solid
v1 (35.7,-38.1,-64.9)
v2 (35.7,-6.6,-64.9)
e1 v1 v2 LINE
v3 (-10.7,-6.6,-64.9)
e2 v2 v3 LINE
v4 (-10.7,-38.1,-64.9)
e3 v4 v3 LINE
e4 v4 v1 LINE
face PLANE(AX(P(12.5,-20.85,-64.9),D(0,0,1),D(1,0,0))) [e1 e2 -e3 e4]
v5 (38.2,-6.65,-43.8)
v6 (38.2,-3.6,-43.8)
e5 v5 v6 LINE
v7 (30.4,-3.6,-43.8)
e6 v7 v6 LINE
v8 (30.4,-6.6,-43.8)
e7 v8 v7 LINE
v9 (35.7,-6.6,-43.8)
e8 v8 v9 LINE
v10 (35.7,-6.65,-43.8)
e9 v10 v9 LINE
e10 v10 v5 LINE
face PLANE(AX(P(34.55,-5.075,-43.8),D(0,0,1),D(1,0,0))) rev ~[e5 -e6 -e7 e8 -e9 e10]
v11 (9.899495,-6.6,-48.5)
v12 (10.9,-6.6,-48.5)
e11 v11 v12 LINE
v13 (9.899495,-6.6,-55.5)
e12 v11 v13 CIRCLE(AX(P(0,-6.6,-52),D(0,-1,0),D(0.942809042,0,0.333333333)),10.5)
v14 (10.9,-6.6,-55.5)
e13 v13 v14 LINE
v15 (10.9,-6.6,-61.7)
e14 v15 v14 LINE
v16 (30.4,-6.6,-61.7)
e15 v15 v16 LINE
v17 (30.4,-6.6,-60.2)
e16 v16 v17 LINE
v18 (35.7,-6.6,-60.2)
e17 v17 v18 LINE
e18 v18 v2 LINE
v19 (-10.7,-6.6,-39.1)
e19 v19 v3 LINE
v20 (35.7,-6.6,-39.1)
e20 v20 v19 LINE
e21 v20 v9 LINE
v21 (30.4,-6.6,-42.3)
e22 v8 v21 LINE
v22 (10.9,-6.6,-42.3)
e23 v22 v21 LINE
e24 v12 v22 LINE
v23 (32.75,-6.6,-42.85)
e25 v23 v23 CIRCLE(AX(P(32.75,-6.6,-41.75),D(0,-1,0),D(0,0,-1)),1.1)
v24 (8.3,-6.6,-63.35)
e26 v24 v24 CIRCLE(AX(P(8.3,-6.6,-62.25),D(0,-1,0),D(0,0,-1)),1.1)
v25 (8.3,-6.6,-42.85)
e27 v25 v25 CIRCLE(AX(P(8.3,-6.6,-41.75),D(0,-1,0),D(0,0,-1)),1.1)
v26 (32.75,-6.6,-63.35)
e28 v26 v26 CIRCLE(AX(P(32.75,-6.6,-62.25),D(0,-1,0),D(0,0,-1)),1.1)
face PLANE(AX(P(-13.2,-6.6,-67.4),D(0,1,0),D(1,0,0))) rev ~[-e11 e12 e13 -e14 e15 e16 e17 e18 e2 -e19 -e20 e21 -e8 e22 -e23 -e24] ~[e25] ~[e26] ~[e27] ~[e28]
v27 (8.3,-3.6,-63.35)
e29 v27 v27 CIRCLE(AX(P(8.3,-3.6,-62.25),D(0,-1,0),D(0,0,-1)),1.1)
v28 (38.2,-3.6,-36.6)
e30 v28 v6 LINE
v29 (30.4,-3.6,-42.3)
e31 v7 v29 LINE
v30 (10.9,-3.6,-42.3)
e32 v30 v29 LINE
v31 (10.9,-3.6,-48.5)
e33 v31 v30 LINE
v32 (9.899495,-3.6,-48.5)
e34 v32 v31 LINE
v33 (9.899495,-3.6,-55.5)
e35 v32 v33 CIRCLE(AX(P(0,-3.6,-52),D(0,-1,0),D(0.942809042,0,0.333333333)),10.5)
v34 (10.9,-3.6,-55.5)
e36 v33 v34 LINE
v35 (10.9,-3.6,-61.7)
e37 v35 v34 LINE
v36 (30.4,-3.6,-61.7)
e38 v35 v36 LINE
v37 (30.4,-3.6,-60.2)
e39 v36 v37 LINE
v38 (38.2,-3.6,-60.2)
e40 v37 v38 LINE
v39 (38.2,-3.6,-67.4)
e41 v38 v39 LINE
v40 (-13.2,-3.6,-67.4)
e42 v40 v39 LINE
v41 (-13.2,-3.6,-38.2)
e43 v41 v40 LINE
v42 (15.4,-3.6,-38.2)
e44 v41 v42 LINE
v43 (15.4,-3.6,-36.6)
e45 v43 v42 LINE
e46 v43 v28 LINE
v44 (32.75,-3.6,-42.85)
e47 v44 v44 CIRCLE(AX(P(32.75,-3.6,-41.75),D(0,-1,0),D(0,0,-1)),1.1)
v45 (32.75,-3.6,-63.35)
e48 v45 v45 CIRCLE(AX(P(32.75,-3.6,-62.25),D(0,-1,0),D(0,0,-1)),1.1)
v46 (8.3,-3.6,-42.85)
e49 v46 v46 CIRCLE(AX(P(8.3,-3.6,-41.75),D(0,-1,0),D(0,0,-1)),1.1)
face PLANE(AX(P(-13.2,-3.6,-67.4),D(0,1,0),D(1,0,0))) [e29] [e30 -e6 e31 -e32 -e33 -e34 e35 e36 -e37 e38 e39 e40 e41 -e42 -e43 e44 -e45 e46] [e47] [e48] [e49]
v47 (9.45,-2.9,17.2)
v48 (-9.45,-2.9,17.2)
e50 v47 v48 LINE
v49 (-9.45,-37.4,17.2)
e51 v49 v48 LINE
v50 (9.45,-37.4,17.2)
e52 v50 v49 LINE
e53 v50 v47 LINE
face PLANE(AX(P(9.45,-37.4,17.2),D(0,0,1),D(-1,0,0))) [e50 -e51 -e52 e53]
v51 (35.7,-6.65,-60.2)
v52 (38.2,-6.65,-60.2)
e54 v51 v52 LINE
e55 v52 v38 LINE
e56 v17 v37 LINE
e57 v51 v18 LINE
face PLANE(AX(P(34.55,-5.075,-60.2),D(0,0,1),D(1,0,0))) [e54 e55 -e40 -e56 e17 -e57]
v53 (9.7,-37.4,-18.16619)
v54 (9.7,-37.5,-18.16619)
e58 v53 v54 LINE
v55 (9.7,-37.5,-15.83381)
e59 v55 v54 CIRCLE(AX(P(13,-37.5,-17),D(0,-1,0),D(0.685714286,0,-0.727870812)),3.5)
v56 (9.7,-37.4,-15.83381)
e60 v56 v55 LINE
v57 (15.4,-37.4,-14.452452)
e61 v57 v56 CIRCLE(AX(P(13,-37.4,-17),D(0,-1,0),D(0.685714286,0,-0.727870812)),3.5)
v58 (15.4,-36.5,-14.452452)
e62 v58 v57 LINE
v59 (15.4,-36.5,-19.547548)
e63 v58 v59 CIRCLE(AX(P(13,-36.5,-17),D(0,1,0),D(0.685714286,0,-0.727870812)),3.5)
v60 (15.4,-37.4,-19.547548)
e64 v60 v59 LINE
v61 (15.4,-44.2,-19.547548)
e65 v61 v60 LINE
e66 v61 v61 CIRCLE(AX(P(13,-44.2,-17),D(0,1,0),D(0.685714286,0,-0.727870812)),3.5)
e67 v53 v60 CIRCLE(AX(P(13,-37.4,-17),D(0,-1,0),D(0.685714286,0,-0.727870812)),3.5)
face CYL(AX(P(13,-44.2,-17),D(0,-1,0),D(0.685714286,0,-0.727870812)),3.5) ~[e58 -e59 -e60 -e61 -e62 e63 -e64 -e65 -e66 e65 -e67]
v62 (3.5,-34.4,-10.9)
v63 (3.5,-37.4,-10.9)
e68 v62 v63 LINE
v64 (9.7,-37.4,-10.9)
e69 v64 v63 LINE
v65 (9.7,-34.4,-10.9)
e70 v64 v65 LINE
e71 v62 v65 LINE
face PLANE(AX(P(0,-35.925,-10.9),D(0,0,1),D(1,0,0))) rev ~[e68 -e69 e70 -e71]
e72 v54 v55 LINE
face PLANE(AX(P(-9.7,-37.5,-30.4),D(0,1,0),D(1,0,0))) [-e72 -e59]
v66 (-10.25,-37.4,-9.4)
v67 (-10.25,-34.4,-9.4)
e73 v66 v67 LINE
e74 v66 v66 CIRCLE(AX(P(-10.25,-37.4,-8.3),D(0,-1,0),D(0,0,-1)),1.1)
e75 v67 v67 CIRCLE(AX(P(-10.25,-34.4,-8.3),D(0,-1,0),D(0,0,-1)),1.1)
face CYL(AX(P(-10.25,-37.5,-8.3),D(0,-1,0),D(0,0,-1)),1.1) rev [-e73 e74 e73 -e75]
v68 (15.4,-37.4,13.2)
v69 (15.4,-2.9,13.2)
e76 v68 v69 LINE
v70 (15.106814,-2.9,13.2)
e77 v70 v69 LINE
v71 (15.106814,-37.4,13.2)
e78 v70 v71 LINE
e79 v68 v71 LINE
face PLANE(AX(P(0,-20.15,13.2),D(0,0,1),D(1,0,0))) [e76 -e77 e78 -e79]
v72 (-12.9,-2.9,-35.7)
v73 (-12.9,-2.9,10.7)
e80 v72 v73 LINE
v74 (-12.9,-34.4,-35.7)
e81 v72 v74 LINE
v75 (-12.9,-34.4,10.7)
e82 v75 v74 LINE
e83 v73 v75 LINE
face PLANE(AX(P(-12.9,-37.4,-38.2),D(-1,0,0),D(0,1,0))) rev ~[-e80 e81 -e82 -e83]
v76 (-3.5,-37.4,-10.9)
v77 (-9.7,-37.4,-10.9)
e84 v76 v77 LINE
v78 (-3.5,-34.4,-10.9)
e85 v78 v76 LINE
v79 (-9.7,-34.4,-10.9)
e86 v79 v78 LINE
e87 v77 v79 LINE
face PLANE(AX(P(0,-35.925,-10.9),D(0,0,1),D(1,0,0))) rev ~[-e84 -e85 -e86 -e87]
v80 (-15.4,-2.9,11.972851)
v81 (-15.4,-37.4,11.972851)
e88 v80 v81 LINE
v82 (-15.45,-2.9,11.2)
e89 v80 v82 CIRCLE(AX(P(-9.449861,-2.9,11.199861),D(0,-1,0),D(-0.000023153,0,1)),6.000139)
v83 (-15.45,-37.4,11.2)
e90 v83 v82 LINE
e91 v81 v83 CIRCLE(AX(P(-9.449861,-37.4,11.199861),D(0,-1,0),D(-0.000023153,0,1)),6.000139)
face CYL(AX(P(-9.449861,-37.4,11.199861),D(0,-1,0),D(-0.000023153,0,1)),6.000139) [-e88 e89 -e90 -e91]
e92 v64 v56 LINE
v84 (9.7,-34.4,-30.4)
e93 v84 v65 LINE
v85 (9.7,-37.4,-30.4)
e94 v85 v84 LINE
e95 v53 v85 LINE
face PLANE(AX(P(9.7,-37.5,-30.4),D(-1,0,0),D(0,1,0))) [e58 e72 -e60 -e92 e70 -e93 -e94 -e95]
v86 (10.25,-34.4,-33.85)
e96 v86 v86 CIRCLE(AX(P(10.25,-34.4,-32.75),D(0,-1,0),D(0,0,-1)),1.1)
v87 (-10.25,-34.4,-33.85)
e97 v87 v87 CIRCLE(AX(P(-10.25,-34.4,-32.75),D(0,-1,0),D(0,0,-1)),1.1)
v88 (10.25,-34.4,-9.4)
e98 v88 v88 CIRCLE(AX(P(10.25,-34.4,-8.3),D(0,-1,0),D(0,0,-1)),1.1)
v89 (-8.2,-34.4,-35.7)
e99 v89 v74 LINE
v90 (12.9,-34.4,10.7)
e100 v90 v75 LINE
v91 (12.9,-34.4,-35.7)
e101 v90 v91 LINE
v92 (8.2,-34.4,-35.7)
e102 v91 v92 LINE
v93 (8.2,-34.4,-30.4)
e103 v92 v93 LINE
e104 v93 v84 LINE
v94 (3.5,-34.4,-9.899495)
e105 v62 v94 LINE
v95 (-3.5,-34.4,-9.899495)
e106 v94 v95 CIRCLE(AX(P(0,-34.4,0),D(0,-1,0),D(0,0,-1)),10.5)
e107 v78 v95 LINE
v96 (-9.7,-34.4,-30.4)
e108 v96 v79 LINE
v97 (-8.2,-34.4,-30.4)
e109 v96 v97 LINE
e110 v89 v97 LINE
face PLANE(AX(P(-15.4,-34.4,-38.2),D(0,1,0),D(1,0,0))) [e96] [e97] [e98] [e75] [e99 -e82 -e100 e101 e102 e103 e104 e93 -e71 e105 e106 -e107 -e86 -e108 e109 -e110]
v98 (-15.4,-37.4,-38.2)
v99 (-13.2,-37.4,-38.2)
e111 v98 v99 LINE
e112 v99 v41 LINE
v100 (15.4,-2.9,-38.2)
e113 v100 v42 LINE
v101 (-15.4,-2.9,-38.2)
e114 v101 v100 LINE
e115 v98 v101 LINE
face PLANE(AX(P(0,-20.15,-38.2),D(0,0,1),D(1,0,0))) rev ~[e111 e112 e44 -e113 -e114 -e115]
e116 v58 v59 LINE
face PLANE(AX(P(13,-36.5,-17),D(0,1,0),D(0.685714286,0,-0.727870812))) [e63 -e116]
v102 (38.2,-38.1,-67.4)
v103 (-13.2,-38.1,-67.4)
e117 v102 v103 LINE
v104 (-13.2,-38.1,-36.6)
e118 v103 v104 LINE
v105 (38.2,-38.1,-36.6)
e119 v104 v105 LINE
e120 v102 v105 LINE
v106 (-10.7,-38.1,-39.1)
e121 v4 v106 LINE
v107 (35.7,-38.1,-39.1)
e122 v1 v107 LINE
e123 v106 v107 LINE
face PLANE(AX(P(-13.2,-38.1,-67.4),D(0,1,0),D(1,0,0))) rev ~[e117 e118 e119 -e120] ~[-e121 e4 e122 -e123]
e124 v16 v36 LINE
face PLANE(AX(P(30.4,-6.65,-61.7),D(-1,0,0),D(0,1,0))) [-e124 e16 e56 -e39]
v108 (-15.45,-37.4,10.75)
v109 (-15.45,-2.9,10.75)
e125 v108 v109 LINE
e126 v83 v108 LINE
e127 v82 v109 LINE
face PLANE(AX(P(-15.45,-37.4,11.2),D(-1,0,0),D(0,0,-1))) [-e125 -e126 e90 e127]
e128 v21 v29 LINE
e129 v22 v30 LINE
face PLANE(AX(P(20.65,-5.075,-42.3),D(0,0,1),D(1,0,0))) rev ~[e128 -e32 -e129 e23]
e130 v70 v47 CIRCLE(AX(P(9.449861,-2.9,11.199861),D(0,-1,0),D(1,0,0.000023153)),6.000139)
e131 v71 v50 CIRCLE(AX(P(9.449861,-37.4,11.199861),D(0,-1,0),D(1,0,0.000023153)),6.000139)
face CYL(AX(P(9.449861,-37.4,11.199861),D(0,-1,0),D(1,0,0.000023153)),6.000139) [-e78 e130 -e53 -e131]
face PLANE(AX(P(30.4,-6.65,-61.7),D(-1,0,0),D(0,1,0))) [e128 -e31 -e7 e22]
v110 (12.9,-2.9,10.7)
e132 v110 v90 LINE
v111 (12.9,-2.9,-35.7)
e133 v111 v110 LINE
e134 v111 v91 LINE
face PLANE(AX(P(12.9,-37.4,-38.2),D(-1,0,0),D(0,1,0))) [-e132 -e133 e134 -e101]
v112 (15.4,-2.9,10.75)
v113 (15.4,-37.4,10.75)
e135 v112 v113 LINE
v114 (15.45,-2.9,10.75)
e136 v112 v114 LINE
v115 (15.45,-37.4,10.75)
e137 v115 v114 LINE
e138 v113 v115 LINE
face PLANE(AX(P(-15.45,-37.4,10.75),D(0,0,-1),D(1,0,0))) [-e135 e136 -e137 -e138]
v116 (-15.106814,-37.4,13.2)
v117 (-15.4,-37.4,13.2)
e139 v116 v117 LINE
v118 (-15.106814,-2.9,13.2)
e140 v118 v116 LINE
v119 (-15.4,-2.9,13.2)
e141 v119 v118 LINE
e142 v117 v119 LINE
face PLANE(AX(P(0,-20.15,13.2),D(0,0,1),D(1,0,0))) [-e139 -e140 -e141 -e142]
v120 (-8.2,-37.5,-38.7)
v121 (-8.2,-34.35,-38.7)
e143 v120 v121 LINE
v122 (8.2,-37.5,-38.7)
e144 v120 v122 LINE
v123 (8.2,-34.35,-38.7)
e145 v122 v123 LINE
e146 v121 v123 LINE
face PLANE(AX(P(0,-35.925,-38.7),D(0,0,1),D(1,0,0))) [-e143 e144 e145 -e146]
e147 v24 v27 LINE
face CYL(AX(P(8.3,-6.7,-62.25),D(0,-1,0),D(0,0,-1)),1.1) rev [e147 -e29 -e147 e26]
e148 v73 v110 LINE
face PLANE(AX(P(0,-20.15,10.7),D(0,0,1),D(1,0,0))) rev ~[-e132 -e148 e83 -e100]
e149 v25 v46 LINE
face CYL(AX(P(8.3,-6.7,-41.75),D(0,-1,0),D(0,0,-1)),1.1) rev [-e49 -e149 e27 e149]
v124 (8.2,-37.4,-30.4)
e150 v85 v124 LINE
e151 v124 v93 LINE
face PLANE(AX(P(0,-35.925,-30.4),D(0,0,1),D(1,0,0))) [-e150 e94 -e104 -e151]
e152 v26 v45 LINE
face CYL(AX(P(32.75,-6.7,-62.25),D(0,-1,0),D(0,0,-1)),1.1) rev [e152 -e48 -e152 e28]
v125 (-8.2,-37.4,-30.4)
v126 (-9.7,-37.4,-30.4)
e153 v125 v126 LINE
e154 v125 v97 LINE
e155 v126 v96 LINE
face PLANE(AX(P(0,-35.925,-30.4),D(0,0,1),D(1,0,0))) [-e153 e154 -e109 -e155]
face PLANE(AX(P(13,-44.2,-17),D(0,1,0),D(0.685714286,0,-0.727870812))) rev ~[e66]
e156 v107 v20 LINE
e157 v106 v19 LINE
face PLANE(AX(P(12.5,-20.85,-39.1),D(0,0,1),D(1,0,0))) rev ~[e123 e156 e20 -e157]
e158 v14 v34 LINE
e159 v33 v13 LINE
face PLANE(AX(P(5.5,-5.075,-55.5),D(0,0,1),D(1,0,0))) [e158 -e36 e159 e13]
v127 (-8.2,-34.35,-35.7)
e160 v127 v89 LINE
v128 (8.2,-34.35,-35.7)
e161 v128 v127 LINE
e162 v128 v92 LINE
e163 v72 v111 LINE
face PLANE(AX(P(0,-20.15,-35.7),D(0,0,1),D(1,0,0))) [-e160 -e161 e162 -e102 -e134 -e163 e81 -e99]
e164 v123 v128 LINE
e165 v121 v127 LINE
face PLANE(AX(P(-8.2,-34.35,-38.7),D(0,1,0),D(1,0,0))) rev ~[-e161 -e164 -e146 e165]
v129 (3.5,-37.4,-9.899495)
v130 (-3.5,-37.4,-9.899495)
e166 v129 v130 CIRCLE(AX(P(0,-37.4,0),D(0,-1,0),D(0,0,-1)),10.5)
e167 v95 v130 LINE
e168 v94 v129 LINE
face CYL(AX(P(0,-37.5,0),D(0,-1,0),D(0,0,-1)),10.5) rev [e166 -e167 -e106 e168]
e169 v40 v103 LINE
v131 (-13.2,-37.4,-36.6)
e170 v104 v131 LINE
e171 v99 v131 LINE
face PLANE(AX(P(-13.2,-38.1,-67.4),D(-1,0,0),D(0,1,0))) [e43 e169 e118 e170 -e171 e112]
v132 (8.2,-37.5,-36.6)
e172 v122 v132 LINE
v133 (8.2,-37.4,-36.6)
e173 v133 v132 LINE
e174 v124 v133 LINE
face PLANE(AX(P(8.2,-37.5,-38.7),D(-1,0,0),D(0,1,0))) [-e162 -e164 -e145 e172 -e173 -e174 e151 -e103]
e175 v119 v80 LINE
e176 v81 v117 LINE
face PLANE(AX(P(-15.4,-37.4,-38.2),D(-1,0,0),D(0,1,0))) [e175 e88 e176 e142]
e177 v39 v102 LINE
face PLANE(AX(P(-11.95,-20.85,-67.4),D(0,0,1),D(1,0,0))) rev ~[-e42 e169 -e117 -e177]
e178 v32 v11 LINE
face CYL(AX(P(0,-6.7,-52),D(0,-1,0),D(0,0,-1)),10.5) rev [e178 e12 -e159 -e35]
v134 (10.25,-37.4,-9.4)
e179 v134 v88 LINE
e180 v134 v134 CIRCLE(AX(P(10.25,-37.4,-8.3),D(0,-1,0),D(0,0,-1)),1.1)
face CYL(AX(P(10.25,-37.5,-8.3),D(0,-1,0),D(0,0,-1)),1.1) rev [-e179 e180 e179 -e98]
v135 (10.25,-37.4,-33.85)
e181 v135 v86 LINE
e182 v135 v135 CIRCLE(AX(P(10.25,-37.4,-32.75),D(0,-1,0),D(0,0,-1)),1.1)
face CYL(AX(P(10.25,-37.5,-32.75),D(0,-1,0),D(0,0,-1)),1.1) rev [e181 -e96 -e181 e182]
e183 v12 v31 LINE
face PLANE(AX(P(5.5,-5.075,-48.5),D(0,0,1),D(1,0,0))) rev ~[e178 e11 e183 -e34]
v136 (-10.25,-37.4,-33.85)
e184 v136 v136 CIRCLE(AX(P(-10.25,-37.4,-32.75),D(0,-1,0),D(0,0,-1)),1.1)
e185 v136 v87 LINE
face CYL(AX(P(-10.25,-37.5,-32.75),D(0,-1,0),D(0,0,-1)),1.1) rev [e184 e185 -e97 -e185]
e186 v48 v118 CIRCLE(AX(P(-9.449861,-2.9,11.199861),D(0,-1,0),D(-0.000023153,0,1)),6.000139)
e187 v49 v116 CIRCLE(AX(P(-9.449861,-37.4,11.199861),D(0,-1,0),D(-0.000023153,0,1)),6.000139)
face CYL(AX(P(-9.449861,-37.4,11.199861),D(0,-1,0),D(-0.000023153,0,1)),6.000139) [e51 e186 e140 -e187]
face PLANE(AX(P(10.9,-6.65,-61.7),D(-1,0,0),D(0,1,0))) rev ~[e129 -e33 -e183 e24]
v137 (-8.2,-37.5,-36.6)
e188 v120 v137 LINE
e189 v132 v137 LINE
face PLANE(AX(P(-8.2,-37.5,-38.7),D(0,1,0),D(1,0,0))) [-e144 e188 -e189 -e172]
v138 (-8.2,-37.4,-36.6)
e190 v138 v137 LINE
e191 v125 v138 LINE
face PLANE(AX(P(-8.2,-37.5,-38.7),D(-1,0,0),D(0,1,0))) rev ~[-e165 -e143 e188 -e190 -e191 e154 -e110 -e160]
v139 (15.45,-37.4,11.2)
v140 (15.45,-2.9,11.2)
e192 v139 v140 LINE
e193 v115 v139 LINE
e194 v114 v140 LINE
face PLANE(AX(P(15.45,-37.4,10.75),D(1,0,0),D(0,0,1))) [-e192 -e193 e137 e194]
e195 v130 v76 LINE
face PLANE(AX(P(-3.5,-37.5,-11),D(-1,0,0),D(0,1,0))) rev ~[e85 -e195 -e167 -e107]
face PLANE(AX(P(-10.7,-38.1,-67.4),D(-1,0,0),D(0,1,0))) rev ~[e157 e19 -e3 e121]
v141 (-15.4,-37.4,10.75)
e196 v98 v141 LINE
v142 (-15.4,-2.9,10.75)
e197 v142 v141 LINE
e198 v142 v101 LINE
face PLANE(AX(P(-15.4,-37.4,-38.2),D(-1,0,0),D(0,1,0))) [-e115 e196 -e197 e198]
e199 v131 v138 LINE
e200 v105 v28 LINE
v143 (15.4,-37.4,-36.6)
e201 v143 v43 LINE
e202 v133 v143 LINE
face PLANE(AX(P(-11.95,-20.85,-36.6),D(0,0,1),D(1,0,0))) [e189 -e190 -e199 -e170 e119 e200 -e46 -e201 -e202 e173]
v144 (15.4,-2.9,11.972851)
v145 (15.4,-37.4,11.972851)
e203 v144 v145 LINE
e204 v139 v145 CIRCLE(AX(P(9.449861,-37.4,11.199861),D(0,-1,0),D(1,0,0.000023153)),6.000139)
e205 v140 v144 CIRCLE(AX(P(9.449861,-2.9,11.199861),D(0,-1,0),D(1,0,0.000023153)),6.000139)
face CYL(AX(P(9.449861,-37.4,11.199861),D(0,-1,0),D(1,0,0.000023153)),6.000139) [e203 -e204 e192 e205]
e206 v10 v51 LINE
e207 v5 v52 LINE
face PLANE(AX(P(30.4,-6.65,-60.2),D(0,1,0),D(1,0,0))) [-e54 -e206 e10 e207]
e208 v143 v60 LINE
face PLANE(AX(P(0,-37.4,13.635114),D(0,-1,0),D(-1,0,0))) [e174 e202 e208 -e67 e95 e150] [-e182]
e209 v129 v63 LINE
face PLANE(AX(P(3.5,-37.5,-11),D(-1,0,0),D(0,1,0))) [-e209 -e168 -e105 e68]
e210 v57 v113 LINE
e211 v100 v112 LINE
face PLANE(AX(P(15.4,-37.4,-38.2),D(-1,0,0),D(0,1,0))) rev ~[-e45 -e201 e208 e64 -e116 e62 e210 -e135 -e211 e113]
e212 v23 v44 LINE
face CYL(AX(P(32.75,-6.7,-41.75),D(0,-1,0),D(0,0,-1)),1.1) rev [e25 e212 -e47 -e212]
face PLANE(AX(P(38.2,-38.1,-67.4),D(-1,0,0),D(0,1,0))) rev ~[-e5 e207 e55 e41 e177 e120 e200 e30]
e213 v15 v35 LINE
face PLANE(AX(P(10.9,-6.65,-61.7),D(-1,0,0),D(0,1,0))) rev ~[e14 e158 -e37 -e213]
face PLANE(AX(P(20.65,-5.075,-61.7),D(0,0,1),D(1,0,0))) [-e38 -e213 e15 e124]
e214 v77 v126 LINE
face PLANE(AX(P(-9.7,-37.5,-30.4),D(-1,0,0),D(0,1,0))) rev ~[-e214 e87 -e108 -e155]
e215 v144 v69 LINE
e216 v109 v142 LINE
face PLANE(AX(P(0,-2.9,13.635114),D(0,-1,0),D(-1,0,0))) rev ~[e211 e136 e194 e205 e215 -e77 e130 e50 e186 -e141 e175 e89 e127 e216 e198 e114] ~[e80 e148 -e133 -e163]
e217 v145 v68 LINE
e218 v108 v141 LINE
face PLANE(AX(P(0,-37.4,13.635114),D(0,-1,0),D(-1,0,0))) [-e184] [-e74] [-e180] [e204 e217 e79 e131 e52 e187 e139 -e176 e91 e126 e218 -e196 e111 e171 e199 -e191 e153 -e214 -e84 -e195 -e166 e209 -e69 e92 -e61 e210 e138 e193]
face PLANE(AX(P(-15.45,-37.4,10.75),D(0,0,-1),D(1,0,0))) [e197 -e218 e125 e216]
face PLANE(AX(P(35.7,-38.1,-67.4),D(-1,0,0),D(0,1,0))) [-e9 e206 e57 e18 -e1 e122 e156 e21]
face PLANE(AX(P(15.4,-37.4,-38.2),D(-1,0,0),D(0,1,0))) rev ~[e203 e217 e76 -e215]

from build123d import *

# Parameters (mm, degrees)
S_BOX1_W        = 30.8
S_BOX1_H        = 34.5
BOSS_1_DEPTH    = 2.5
S_BOX2_W        = 30.8
S_BOX2_H        = 34.5
BOSS_2_DEPTH    = 2.5
S_BOX3_W        = 2.5
S_BOX3_H        = 34.5
BOSS_3_DEPTH    = 51.4
S_BOX4_W        = 2.5
S_BOX4_H        = 34.5
BOSS_4_DEPTH    = 51.4
S_BOX5_W        = 30.8
S_BOX5_H        = 3
BOSS_5_DEPTH    = 51.4
S_BOX6_W        = 2.5
S_BOX6_H        = 34.5
BOSS_6_DEPTH    = 30.8
S_BOX7_W        = 2.5
S_BOX7_H        = 34.5
BOSS_7_DEPTH    = 30.8
S_BOX8_W        = 51.4
S_BOX8_H        = 34.5
BOSS_8_DEPTH    = 2.5
S_BOX9_W        = 51.4
S_BOX9_H        = 34.5
BOSS_9_DEPTH    = 2.5
S_BOX10_W       = 51.4
S_BOX10_H       = 3
BOSS_10_DEPTH   = 30.8
BOSS_11_DEPTH   = 34.5
S_CYL12_R       = 3.5
BOSS_12_DEPTH   = 7.7
S_HOLE13_R      = 10.5
HOLE_13_DEPTH   = 3.2
S_CUT14_W       = 19.4
S_CUT14_H       = 3.15
POCKET_14_DEPTH = 19.5
S_CUT15_W       = 16.4
S_CUT15_H       = 3.15
POCKET_15_DEPTH = 8.3
S_CUT16_W       = 7
S_CUT16_H       = 3.15
POCKET_16_DEPTH = 11
S_HOLE17_R      = 1.1
HOLE_17_DEPTH   = 3.2
S_HOLE18_R      = 1.1
HOLE_18_DEPTH   = 3.2
S_HOLE19_R      = 1.1
HOLE_19_DEPTH   = 3.2
S_HOLE20_R      = 1.1
HOLE_20_DEPTH   = 3.2
S_HOLE21_R      = 10.5
HOLE_21_DEPTH   = 3.2
S_CUT22_W       = 19.5
S_CUT22_H       = 3.15
POCKET_22_DEPTH = 19.4
S_CUT23_W       = 8.3
S_CUT23_H       = 3.15
POCKET_23_DEPTH = 16.4
S_CUT24_W       = 11
S_CUT24_H       = 3.15
POCKET_24_DEPTH = 7
S_HOLE25_R      = 1.1
HOLE_25_DEPTH   = 3.2
S_HOLE26_R      = 1.1
HOLE_26_DEPTH   = 3.2
S_HOLE27_R      = 1.1
HOLE_27_DEPTH   = 3.2
S_HOLE28_R      = 1.1
HOLE_28_DEPTH   = 3.2


with BuildPart() as part:
    # S_box1 → Boss_1 (new body)
    with BuildSketch(Plane.XY.offset(-38.2)):
        with Locations((0, -20.15)):
            Rectangle(S_BOX1_W, S_BOX1_H)
    extrude(amount=BOSS_1_DEPTH)



with BuildPart() as body_2:
    # S_box2 → Boss_2 (new body)
    with BuildSketch(Plane.XY.offset(10.7)):
        with Locations((0, -20.15)):
            Rectangle(S_BOX2_W, S_BOX2_H)
    extrude(amount=BOSS_2_DEPTH)


with BuildPart() as part_1:
    add(part.part)

    add(body_2.part)  # Boss_3 merges body 2
    # S_box3 → Boss_3 (add)
    with BuildSketch(Plane.XY.offset(-38.2)):
        with Locations((-14.15, -20.15)):
            Rectangle(S_BOX3_W, S_BOX3_H)
    extrude(amount=BOSS_3_DEPTH)

    # S_box4 → Boss_4 (add)
    with BuildSketch(Plane.XY.offset(-38.2)):
        with Locations((14.15, -20.15)):
            Rectangle(S_BOX4_W, S_BOX4_H)
    extrude(amount=BOSS_4_DEPTH)

    # S_box5 → Boss_5 (add)
    with BuildSketch(Plane.XY.offset(-38.2)):
        with Locations((0, -35.9)):
            Rectangle(S_BOX5_W, S_BOX5_H)
    extrude(amount=BOSS_5_DEPTH)

    # S_box6 → Boss_6 (add)
    with BuildSketch(Plane.XY.offset(-67.4)):
        with Locations((-11.95, -20.85)):
            Rectangle(S_BOX6_W, S_BOX6_H)
    extrude(amount=BOSS_6_DEPTH)



with BuildPart() as body_2_2:
    # S_box7 → Boss_7 (new body)
    with BuildSketch(Plane.XY.offset(-67.4)):
        with Locations((36.95, -20.85)):
            Rectangle(S_BOX7_W, S_BOX7_H)
    extrude(amount=BOSS_7_DEPTH)


with BuildPart() as part_2:
    add(part_1.part)

    add(body_2_2.part)  # Boss_8 merges body 2 2
    # S_box8 → Boss_8 (add)
    with BuildSketch(Plane.XY.offset(-67.4)):
        with Locations((12.5, -20.85)):
            Rectangle(S_BOX8_W, S_BOX8_H)
    extrude(amount=BOSS_8_DEPTH)

    # S_box9 → Boss_9 (add)
    with BuildSketch(Plane.XY.offset(-39.1)):
        with Locations((12.5, -20.85)):
            Rectangle(S_BOX9_W, S_BOX9_H)
    extrude(amount=BOSS_9_DEPTH)

    # S_box10 → Boss_10 (add)
    with BuildSketch(Plane.XY.offset(-67.4)):
        with Locations((12.5, -5.1)):
            Rectangle(S_BOX10_W, S_BOX10_H)
    extrude(amount=BOSS_10_DEPTH)

    # S_prism11 → Boss_11 (add)
    with BuildSketch(Plane(origin=(0, -37.4, 0), x_dir=(1, 0, 0), z_dir=(0, 1, 0))):
        with BuildLine():
            Line((-15.45, -10.75), (15.45, -10.75))
            Line((15.45, -10.75), (15.45, -11.2))
            ThreePointArc((15.45, -11.2), (13.6926, -15.4426), (9.45, -17.2))
            Line((9.45, -17.2), (-9.45, -17.2))
            ThreePointArc((-9.45, -17.2), (-13.6926, -15.4426), (-15.45, -11.2))
            Line((-15.45, -11.2), (-15.45, -10.75))
        make_face()
    extrude(amount=BOSS_11_DEPTH)

    # S_cyl12 → Boss_12 (add)
    with BuildSketch(Plane(origin=(0, -44.2, 0), x_dir=(1, 0, 0), z_dir=(0, 1, 0))):
        with Locations(Location((13, 17, 0), (0, 0, 46.708192407))):
            Circle(S_CYL12_R)
    extrude(amount=BOSS_12_DEPTH)

    # S_hole13 → Hole_13 (cut)
    with BuildSketch(Plane(origin=(0, -37.5, 0), x_dir=(1, 0, 0), z_dir=(0, 1, 0))):
        with Locations(Location((0, 0, 0), (0, 0, 90))):
            Circle(S_HOLE13_R)
    extrude(amount=HOLE_13_DEPTH, mode=Mode.SUBTRACT)

    # S_cut14 → Pocket_14 (cut)
    with BuildSketch(Plane.XY.offset(-30.4)):
        with Locations((0, -35.925)):
            Rectangle(S_CUT14_W, S_CUT14_H)
    extrude(amount=POCKET_14_DEPTH, mode=Mode.SUBTRACT)

    # S_cut15 → Pocket_15 (cut)
    with BuildSketch(Plane.XY.offset(-38.7)):
        with Locations((0, -35.925)):
            Rectangle(S_CUT15_W, S_CUT15_H)
    extrude(amount=POCKET_15_DEPTH, mode=Mode.SUBTRACT)

    # S_cut16 → Pocket_16 (cut)
    with BuildSketch(Plane.XY.offset(-11)):
        with Locations((0, -35.925)):
            Rectangle(S_CUT16_W, S_CUT16_H)
    extrude(amount=POCKET_16_DEPTH, mode=Mode.SUBTRACT)

    # S_hole17 → Hole_17 (cut)
    with BuildSketch(Plane(origin=(0, -37.5, 0), x_dir=(1, 0, 0), z_dir=(0, 1, 0))):
        with Locations(Location((-10.25, 8.3, 0), (0, 0, 90))):
            Circle(S_HOLE17_R)
    extrude(amount=HOLE_17_DEPTH, mode=Mode.SUBTRACT)

    # S_hole18 → Hole_18 (cut)
    with BuildSketch(Plane(origin=(0, -37.5, 0), x_dir=(1, 0, 0), z_dir=(0, 1, 0))):
        with Locations(Location((10.25, 8.3, 0), (0, 0, 90))):
            Circle(S_HOLE18_R)
    extrude(amount=HOLE_18_DEPTH, mode=Mode.SUBTRACT)

    # S_hole19 → Hole_19 (cut)
    with BuildSketch(Plane(origin=(0, -37.5, 0), x_dir=(1, 0, 0), z_dir=(0, 1, 0))):
        with Locations(Location((-10.25, 32.75, 0), (0, 0, 90))):
            Circle(S_HOLE19_R)
    extrude(amount=HOLE_19_DEPTH, mode=Mode.SUBTRACT)

    # S_hole20 → Hole_20 (cut)
    with BuildSketch(Plane(origin=(0, -37.5, 0), x_dir=(1, 0, 0), z_dir=(0, 1, 0))):
        with Locations(Location((10.25, 32.75, 0), (0, 0, 90))):
            Circle(S_HOLE20_R)
    extrude(amount=HOLE_20_DEPTH, mode=Mode.SUBTRACT)

    # S_hole21 → Hole_21 (cut)
    with BuildSketch(Plane(origin=(0, -6.7, 0), x_dir=(1, 0, 0), z_dir=(0, 1, 0))):
        with Locations(Location((0, 52, 0), (0, 0, 90))):
            Circle(S_HOLE21_R)
    extrude(amount=HOLE_21_DEPTH, mode=Mode.SUBTRACT)

    # S_cut22 → Pocket_22 (cut)
    with BuildSketch(Plane.XY.offset(-61.7)):
        with Locations((20.65, -5.075)):
            Rectangle(S_CUT22_W, S_CUT22_H)
    extrude(amount=POCKET_22_DEPTH, mode=Mode.SUBTRACT)

    # S_cut23 → Pocket_23 (cut)
    with BuildSketch(Plane.XY.offset(-60.2)):
        with Locations((34.55, -5.075)):
            Rectangle(S_CUT23_W, S_CUT23_H)
    extrude(amount=POCKET_23_DEPTH, mode=Mode.SUBTRACT)

    # S_cut24 → Pocket_24 (cut)
    with BuildSketch(Plane.XY.offset(-55.5)):
        with Locations((5.5, -5.075)):
            Rectangle(S_CUT24_W, S_CUT24_H)
    extrude(amount=POCKET_24_DEPTH, mode=Mode.SUBTRACT)

    # S_hole25 → Hole_25 (cut)
    with BuildSketch(Plane(origin=(0, -6.7, 0), x_dir=(1, 0, 0), z_dir=(0, 1, 0))):
        with Locations(Location((8.3, 62.25, 0), (0, 0, 90))):
            Circle(S_HOLE25_R)
    extrude(amount=HOLE_25_DEPTH, mode=Mode.SUBTRACT)

    # S_hole26 → Hole_26 (cut)
    with BuildSketch(Plane(origin=(0, -6.7, 0), x_dir=(1, 0, 0), z_dir=(0, 1, 0))):
        with Locations(Location((8.3, 41.75, 0), (0, 0, 90))):
            Circle(S_HOLE26_R)
    extrude(amount=HOLE_26_DEPTH, mode=Mode.SUBTRACT)

    # S_hole27 → Hole_27 (cut)
    with BuildSketch(Plane(origin=(0, -6.7, 0), x_dir=(1, 0, 0), z_dir=(0, 1, 0))):
        with Locations(Location((32.75, 62.25, 0), (0, 0, 90))):
            Circle(S_HOLE27_R)
    extrude(amount=HOLE_27_DEPTH, mode=Mode.SUBTRACT)

    # S_hole28 → Hole_28 (cut)
    with BuildSketch(Plane(origin=(0, -6.7, 0), x_dir=(1, 0, 0), z_dir=(0, 1, 0))):
        with Locations(Location((32.75, 41.75, 0), (0, 0, 90))):
            Circle(S_HOLE28_R)
    extrude(amount=HOLE_28_DEPTH, mode=Mode.SUBTRACT)


solid = part_2.part
